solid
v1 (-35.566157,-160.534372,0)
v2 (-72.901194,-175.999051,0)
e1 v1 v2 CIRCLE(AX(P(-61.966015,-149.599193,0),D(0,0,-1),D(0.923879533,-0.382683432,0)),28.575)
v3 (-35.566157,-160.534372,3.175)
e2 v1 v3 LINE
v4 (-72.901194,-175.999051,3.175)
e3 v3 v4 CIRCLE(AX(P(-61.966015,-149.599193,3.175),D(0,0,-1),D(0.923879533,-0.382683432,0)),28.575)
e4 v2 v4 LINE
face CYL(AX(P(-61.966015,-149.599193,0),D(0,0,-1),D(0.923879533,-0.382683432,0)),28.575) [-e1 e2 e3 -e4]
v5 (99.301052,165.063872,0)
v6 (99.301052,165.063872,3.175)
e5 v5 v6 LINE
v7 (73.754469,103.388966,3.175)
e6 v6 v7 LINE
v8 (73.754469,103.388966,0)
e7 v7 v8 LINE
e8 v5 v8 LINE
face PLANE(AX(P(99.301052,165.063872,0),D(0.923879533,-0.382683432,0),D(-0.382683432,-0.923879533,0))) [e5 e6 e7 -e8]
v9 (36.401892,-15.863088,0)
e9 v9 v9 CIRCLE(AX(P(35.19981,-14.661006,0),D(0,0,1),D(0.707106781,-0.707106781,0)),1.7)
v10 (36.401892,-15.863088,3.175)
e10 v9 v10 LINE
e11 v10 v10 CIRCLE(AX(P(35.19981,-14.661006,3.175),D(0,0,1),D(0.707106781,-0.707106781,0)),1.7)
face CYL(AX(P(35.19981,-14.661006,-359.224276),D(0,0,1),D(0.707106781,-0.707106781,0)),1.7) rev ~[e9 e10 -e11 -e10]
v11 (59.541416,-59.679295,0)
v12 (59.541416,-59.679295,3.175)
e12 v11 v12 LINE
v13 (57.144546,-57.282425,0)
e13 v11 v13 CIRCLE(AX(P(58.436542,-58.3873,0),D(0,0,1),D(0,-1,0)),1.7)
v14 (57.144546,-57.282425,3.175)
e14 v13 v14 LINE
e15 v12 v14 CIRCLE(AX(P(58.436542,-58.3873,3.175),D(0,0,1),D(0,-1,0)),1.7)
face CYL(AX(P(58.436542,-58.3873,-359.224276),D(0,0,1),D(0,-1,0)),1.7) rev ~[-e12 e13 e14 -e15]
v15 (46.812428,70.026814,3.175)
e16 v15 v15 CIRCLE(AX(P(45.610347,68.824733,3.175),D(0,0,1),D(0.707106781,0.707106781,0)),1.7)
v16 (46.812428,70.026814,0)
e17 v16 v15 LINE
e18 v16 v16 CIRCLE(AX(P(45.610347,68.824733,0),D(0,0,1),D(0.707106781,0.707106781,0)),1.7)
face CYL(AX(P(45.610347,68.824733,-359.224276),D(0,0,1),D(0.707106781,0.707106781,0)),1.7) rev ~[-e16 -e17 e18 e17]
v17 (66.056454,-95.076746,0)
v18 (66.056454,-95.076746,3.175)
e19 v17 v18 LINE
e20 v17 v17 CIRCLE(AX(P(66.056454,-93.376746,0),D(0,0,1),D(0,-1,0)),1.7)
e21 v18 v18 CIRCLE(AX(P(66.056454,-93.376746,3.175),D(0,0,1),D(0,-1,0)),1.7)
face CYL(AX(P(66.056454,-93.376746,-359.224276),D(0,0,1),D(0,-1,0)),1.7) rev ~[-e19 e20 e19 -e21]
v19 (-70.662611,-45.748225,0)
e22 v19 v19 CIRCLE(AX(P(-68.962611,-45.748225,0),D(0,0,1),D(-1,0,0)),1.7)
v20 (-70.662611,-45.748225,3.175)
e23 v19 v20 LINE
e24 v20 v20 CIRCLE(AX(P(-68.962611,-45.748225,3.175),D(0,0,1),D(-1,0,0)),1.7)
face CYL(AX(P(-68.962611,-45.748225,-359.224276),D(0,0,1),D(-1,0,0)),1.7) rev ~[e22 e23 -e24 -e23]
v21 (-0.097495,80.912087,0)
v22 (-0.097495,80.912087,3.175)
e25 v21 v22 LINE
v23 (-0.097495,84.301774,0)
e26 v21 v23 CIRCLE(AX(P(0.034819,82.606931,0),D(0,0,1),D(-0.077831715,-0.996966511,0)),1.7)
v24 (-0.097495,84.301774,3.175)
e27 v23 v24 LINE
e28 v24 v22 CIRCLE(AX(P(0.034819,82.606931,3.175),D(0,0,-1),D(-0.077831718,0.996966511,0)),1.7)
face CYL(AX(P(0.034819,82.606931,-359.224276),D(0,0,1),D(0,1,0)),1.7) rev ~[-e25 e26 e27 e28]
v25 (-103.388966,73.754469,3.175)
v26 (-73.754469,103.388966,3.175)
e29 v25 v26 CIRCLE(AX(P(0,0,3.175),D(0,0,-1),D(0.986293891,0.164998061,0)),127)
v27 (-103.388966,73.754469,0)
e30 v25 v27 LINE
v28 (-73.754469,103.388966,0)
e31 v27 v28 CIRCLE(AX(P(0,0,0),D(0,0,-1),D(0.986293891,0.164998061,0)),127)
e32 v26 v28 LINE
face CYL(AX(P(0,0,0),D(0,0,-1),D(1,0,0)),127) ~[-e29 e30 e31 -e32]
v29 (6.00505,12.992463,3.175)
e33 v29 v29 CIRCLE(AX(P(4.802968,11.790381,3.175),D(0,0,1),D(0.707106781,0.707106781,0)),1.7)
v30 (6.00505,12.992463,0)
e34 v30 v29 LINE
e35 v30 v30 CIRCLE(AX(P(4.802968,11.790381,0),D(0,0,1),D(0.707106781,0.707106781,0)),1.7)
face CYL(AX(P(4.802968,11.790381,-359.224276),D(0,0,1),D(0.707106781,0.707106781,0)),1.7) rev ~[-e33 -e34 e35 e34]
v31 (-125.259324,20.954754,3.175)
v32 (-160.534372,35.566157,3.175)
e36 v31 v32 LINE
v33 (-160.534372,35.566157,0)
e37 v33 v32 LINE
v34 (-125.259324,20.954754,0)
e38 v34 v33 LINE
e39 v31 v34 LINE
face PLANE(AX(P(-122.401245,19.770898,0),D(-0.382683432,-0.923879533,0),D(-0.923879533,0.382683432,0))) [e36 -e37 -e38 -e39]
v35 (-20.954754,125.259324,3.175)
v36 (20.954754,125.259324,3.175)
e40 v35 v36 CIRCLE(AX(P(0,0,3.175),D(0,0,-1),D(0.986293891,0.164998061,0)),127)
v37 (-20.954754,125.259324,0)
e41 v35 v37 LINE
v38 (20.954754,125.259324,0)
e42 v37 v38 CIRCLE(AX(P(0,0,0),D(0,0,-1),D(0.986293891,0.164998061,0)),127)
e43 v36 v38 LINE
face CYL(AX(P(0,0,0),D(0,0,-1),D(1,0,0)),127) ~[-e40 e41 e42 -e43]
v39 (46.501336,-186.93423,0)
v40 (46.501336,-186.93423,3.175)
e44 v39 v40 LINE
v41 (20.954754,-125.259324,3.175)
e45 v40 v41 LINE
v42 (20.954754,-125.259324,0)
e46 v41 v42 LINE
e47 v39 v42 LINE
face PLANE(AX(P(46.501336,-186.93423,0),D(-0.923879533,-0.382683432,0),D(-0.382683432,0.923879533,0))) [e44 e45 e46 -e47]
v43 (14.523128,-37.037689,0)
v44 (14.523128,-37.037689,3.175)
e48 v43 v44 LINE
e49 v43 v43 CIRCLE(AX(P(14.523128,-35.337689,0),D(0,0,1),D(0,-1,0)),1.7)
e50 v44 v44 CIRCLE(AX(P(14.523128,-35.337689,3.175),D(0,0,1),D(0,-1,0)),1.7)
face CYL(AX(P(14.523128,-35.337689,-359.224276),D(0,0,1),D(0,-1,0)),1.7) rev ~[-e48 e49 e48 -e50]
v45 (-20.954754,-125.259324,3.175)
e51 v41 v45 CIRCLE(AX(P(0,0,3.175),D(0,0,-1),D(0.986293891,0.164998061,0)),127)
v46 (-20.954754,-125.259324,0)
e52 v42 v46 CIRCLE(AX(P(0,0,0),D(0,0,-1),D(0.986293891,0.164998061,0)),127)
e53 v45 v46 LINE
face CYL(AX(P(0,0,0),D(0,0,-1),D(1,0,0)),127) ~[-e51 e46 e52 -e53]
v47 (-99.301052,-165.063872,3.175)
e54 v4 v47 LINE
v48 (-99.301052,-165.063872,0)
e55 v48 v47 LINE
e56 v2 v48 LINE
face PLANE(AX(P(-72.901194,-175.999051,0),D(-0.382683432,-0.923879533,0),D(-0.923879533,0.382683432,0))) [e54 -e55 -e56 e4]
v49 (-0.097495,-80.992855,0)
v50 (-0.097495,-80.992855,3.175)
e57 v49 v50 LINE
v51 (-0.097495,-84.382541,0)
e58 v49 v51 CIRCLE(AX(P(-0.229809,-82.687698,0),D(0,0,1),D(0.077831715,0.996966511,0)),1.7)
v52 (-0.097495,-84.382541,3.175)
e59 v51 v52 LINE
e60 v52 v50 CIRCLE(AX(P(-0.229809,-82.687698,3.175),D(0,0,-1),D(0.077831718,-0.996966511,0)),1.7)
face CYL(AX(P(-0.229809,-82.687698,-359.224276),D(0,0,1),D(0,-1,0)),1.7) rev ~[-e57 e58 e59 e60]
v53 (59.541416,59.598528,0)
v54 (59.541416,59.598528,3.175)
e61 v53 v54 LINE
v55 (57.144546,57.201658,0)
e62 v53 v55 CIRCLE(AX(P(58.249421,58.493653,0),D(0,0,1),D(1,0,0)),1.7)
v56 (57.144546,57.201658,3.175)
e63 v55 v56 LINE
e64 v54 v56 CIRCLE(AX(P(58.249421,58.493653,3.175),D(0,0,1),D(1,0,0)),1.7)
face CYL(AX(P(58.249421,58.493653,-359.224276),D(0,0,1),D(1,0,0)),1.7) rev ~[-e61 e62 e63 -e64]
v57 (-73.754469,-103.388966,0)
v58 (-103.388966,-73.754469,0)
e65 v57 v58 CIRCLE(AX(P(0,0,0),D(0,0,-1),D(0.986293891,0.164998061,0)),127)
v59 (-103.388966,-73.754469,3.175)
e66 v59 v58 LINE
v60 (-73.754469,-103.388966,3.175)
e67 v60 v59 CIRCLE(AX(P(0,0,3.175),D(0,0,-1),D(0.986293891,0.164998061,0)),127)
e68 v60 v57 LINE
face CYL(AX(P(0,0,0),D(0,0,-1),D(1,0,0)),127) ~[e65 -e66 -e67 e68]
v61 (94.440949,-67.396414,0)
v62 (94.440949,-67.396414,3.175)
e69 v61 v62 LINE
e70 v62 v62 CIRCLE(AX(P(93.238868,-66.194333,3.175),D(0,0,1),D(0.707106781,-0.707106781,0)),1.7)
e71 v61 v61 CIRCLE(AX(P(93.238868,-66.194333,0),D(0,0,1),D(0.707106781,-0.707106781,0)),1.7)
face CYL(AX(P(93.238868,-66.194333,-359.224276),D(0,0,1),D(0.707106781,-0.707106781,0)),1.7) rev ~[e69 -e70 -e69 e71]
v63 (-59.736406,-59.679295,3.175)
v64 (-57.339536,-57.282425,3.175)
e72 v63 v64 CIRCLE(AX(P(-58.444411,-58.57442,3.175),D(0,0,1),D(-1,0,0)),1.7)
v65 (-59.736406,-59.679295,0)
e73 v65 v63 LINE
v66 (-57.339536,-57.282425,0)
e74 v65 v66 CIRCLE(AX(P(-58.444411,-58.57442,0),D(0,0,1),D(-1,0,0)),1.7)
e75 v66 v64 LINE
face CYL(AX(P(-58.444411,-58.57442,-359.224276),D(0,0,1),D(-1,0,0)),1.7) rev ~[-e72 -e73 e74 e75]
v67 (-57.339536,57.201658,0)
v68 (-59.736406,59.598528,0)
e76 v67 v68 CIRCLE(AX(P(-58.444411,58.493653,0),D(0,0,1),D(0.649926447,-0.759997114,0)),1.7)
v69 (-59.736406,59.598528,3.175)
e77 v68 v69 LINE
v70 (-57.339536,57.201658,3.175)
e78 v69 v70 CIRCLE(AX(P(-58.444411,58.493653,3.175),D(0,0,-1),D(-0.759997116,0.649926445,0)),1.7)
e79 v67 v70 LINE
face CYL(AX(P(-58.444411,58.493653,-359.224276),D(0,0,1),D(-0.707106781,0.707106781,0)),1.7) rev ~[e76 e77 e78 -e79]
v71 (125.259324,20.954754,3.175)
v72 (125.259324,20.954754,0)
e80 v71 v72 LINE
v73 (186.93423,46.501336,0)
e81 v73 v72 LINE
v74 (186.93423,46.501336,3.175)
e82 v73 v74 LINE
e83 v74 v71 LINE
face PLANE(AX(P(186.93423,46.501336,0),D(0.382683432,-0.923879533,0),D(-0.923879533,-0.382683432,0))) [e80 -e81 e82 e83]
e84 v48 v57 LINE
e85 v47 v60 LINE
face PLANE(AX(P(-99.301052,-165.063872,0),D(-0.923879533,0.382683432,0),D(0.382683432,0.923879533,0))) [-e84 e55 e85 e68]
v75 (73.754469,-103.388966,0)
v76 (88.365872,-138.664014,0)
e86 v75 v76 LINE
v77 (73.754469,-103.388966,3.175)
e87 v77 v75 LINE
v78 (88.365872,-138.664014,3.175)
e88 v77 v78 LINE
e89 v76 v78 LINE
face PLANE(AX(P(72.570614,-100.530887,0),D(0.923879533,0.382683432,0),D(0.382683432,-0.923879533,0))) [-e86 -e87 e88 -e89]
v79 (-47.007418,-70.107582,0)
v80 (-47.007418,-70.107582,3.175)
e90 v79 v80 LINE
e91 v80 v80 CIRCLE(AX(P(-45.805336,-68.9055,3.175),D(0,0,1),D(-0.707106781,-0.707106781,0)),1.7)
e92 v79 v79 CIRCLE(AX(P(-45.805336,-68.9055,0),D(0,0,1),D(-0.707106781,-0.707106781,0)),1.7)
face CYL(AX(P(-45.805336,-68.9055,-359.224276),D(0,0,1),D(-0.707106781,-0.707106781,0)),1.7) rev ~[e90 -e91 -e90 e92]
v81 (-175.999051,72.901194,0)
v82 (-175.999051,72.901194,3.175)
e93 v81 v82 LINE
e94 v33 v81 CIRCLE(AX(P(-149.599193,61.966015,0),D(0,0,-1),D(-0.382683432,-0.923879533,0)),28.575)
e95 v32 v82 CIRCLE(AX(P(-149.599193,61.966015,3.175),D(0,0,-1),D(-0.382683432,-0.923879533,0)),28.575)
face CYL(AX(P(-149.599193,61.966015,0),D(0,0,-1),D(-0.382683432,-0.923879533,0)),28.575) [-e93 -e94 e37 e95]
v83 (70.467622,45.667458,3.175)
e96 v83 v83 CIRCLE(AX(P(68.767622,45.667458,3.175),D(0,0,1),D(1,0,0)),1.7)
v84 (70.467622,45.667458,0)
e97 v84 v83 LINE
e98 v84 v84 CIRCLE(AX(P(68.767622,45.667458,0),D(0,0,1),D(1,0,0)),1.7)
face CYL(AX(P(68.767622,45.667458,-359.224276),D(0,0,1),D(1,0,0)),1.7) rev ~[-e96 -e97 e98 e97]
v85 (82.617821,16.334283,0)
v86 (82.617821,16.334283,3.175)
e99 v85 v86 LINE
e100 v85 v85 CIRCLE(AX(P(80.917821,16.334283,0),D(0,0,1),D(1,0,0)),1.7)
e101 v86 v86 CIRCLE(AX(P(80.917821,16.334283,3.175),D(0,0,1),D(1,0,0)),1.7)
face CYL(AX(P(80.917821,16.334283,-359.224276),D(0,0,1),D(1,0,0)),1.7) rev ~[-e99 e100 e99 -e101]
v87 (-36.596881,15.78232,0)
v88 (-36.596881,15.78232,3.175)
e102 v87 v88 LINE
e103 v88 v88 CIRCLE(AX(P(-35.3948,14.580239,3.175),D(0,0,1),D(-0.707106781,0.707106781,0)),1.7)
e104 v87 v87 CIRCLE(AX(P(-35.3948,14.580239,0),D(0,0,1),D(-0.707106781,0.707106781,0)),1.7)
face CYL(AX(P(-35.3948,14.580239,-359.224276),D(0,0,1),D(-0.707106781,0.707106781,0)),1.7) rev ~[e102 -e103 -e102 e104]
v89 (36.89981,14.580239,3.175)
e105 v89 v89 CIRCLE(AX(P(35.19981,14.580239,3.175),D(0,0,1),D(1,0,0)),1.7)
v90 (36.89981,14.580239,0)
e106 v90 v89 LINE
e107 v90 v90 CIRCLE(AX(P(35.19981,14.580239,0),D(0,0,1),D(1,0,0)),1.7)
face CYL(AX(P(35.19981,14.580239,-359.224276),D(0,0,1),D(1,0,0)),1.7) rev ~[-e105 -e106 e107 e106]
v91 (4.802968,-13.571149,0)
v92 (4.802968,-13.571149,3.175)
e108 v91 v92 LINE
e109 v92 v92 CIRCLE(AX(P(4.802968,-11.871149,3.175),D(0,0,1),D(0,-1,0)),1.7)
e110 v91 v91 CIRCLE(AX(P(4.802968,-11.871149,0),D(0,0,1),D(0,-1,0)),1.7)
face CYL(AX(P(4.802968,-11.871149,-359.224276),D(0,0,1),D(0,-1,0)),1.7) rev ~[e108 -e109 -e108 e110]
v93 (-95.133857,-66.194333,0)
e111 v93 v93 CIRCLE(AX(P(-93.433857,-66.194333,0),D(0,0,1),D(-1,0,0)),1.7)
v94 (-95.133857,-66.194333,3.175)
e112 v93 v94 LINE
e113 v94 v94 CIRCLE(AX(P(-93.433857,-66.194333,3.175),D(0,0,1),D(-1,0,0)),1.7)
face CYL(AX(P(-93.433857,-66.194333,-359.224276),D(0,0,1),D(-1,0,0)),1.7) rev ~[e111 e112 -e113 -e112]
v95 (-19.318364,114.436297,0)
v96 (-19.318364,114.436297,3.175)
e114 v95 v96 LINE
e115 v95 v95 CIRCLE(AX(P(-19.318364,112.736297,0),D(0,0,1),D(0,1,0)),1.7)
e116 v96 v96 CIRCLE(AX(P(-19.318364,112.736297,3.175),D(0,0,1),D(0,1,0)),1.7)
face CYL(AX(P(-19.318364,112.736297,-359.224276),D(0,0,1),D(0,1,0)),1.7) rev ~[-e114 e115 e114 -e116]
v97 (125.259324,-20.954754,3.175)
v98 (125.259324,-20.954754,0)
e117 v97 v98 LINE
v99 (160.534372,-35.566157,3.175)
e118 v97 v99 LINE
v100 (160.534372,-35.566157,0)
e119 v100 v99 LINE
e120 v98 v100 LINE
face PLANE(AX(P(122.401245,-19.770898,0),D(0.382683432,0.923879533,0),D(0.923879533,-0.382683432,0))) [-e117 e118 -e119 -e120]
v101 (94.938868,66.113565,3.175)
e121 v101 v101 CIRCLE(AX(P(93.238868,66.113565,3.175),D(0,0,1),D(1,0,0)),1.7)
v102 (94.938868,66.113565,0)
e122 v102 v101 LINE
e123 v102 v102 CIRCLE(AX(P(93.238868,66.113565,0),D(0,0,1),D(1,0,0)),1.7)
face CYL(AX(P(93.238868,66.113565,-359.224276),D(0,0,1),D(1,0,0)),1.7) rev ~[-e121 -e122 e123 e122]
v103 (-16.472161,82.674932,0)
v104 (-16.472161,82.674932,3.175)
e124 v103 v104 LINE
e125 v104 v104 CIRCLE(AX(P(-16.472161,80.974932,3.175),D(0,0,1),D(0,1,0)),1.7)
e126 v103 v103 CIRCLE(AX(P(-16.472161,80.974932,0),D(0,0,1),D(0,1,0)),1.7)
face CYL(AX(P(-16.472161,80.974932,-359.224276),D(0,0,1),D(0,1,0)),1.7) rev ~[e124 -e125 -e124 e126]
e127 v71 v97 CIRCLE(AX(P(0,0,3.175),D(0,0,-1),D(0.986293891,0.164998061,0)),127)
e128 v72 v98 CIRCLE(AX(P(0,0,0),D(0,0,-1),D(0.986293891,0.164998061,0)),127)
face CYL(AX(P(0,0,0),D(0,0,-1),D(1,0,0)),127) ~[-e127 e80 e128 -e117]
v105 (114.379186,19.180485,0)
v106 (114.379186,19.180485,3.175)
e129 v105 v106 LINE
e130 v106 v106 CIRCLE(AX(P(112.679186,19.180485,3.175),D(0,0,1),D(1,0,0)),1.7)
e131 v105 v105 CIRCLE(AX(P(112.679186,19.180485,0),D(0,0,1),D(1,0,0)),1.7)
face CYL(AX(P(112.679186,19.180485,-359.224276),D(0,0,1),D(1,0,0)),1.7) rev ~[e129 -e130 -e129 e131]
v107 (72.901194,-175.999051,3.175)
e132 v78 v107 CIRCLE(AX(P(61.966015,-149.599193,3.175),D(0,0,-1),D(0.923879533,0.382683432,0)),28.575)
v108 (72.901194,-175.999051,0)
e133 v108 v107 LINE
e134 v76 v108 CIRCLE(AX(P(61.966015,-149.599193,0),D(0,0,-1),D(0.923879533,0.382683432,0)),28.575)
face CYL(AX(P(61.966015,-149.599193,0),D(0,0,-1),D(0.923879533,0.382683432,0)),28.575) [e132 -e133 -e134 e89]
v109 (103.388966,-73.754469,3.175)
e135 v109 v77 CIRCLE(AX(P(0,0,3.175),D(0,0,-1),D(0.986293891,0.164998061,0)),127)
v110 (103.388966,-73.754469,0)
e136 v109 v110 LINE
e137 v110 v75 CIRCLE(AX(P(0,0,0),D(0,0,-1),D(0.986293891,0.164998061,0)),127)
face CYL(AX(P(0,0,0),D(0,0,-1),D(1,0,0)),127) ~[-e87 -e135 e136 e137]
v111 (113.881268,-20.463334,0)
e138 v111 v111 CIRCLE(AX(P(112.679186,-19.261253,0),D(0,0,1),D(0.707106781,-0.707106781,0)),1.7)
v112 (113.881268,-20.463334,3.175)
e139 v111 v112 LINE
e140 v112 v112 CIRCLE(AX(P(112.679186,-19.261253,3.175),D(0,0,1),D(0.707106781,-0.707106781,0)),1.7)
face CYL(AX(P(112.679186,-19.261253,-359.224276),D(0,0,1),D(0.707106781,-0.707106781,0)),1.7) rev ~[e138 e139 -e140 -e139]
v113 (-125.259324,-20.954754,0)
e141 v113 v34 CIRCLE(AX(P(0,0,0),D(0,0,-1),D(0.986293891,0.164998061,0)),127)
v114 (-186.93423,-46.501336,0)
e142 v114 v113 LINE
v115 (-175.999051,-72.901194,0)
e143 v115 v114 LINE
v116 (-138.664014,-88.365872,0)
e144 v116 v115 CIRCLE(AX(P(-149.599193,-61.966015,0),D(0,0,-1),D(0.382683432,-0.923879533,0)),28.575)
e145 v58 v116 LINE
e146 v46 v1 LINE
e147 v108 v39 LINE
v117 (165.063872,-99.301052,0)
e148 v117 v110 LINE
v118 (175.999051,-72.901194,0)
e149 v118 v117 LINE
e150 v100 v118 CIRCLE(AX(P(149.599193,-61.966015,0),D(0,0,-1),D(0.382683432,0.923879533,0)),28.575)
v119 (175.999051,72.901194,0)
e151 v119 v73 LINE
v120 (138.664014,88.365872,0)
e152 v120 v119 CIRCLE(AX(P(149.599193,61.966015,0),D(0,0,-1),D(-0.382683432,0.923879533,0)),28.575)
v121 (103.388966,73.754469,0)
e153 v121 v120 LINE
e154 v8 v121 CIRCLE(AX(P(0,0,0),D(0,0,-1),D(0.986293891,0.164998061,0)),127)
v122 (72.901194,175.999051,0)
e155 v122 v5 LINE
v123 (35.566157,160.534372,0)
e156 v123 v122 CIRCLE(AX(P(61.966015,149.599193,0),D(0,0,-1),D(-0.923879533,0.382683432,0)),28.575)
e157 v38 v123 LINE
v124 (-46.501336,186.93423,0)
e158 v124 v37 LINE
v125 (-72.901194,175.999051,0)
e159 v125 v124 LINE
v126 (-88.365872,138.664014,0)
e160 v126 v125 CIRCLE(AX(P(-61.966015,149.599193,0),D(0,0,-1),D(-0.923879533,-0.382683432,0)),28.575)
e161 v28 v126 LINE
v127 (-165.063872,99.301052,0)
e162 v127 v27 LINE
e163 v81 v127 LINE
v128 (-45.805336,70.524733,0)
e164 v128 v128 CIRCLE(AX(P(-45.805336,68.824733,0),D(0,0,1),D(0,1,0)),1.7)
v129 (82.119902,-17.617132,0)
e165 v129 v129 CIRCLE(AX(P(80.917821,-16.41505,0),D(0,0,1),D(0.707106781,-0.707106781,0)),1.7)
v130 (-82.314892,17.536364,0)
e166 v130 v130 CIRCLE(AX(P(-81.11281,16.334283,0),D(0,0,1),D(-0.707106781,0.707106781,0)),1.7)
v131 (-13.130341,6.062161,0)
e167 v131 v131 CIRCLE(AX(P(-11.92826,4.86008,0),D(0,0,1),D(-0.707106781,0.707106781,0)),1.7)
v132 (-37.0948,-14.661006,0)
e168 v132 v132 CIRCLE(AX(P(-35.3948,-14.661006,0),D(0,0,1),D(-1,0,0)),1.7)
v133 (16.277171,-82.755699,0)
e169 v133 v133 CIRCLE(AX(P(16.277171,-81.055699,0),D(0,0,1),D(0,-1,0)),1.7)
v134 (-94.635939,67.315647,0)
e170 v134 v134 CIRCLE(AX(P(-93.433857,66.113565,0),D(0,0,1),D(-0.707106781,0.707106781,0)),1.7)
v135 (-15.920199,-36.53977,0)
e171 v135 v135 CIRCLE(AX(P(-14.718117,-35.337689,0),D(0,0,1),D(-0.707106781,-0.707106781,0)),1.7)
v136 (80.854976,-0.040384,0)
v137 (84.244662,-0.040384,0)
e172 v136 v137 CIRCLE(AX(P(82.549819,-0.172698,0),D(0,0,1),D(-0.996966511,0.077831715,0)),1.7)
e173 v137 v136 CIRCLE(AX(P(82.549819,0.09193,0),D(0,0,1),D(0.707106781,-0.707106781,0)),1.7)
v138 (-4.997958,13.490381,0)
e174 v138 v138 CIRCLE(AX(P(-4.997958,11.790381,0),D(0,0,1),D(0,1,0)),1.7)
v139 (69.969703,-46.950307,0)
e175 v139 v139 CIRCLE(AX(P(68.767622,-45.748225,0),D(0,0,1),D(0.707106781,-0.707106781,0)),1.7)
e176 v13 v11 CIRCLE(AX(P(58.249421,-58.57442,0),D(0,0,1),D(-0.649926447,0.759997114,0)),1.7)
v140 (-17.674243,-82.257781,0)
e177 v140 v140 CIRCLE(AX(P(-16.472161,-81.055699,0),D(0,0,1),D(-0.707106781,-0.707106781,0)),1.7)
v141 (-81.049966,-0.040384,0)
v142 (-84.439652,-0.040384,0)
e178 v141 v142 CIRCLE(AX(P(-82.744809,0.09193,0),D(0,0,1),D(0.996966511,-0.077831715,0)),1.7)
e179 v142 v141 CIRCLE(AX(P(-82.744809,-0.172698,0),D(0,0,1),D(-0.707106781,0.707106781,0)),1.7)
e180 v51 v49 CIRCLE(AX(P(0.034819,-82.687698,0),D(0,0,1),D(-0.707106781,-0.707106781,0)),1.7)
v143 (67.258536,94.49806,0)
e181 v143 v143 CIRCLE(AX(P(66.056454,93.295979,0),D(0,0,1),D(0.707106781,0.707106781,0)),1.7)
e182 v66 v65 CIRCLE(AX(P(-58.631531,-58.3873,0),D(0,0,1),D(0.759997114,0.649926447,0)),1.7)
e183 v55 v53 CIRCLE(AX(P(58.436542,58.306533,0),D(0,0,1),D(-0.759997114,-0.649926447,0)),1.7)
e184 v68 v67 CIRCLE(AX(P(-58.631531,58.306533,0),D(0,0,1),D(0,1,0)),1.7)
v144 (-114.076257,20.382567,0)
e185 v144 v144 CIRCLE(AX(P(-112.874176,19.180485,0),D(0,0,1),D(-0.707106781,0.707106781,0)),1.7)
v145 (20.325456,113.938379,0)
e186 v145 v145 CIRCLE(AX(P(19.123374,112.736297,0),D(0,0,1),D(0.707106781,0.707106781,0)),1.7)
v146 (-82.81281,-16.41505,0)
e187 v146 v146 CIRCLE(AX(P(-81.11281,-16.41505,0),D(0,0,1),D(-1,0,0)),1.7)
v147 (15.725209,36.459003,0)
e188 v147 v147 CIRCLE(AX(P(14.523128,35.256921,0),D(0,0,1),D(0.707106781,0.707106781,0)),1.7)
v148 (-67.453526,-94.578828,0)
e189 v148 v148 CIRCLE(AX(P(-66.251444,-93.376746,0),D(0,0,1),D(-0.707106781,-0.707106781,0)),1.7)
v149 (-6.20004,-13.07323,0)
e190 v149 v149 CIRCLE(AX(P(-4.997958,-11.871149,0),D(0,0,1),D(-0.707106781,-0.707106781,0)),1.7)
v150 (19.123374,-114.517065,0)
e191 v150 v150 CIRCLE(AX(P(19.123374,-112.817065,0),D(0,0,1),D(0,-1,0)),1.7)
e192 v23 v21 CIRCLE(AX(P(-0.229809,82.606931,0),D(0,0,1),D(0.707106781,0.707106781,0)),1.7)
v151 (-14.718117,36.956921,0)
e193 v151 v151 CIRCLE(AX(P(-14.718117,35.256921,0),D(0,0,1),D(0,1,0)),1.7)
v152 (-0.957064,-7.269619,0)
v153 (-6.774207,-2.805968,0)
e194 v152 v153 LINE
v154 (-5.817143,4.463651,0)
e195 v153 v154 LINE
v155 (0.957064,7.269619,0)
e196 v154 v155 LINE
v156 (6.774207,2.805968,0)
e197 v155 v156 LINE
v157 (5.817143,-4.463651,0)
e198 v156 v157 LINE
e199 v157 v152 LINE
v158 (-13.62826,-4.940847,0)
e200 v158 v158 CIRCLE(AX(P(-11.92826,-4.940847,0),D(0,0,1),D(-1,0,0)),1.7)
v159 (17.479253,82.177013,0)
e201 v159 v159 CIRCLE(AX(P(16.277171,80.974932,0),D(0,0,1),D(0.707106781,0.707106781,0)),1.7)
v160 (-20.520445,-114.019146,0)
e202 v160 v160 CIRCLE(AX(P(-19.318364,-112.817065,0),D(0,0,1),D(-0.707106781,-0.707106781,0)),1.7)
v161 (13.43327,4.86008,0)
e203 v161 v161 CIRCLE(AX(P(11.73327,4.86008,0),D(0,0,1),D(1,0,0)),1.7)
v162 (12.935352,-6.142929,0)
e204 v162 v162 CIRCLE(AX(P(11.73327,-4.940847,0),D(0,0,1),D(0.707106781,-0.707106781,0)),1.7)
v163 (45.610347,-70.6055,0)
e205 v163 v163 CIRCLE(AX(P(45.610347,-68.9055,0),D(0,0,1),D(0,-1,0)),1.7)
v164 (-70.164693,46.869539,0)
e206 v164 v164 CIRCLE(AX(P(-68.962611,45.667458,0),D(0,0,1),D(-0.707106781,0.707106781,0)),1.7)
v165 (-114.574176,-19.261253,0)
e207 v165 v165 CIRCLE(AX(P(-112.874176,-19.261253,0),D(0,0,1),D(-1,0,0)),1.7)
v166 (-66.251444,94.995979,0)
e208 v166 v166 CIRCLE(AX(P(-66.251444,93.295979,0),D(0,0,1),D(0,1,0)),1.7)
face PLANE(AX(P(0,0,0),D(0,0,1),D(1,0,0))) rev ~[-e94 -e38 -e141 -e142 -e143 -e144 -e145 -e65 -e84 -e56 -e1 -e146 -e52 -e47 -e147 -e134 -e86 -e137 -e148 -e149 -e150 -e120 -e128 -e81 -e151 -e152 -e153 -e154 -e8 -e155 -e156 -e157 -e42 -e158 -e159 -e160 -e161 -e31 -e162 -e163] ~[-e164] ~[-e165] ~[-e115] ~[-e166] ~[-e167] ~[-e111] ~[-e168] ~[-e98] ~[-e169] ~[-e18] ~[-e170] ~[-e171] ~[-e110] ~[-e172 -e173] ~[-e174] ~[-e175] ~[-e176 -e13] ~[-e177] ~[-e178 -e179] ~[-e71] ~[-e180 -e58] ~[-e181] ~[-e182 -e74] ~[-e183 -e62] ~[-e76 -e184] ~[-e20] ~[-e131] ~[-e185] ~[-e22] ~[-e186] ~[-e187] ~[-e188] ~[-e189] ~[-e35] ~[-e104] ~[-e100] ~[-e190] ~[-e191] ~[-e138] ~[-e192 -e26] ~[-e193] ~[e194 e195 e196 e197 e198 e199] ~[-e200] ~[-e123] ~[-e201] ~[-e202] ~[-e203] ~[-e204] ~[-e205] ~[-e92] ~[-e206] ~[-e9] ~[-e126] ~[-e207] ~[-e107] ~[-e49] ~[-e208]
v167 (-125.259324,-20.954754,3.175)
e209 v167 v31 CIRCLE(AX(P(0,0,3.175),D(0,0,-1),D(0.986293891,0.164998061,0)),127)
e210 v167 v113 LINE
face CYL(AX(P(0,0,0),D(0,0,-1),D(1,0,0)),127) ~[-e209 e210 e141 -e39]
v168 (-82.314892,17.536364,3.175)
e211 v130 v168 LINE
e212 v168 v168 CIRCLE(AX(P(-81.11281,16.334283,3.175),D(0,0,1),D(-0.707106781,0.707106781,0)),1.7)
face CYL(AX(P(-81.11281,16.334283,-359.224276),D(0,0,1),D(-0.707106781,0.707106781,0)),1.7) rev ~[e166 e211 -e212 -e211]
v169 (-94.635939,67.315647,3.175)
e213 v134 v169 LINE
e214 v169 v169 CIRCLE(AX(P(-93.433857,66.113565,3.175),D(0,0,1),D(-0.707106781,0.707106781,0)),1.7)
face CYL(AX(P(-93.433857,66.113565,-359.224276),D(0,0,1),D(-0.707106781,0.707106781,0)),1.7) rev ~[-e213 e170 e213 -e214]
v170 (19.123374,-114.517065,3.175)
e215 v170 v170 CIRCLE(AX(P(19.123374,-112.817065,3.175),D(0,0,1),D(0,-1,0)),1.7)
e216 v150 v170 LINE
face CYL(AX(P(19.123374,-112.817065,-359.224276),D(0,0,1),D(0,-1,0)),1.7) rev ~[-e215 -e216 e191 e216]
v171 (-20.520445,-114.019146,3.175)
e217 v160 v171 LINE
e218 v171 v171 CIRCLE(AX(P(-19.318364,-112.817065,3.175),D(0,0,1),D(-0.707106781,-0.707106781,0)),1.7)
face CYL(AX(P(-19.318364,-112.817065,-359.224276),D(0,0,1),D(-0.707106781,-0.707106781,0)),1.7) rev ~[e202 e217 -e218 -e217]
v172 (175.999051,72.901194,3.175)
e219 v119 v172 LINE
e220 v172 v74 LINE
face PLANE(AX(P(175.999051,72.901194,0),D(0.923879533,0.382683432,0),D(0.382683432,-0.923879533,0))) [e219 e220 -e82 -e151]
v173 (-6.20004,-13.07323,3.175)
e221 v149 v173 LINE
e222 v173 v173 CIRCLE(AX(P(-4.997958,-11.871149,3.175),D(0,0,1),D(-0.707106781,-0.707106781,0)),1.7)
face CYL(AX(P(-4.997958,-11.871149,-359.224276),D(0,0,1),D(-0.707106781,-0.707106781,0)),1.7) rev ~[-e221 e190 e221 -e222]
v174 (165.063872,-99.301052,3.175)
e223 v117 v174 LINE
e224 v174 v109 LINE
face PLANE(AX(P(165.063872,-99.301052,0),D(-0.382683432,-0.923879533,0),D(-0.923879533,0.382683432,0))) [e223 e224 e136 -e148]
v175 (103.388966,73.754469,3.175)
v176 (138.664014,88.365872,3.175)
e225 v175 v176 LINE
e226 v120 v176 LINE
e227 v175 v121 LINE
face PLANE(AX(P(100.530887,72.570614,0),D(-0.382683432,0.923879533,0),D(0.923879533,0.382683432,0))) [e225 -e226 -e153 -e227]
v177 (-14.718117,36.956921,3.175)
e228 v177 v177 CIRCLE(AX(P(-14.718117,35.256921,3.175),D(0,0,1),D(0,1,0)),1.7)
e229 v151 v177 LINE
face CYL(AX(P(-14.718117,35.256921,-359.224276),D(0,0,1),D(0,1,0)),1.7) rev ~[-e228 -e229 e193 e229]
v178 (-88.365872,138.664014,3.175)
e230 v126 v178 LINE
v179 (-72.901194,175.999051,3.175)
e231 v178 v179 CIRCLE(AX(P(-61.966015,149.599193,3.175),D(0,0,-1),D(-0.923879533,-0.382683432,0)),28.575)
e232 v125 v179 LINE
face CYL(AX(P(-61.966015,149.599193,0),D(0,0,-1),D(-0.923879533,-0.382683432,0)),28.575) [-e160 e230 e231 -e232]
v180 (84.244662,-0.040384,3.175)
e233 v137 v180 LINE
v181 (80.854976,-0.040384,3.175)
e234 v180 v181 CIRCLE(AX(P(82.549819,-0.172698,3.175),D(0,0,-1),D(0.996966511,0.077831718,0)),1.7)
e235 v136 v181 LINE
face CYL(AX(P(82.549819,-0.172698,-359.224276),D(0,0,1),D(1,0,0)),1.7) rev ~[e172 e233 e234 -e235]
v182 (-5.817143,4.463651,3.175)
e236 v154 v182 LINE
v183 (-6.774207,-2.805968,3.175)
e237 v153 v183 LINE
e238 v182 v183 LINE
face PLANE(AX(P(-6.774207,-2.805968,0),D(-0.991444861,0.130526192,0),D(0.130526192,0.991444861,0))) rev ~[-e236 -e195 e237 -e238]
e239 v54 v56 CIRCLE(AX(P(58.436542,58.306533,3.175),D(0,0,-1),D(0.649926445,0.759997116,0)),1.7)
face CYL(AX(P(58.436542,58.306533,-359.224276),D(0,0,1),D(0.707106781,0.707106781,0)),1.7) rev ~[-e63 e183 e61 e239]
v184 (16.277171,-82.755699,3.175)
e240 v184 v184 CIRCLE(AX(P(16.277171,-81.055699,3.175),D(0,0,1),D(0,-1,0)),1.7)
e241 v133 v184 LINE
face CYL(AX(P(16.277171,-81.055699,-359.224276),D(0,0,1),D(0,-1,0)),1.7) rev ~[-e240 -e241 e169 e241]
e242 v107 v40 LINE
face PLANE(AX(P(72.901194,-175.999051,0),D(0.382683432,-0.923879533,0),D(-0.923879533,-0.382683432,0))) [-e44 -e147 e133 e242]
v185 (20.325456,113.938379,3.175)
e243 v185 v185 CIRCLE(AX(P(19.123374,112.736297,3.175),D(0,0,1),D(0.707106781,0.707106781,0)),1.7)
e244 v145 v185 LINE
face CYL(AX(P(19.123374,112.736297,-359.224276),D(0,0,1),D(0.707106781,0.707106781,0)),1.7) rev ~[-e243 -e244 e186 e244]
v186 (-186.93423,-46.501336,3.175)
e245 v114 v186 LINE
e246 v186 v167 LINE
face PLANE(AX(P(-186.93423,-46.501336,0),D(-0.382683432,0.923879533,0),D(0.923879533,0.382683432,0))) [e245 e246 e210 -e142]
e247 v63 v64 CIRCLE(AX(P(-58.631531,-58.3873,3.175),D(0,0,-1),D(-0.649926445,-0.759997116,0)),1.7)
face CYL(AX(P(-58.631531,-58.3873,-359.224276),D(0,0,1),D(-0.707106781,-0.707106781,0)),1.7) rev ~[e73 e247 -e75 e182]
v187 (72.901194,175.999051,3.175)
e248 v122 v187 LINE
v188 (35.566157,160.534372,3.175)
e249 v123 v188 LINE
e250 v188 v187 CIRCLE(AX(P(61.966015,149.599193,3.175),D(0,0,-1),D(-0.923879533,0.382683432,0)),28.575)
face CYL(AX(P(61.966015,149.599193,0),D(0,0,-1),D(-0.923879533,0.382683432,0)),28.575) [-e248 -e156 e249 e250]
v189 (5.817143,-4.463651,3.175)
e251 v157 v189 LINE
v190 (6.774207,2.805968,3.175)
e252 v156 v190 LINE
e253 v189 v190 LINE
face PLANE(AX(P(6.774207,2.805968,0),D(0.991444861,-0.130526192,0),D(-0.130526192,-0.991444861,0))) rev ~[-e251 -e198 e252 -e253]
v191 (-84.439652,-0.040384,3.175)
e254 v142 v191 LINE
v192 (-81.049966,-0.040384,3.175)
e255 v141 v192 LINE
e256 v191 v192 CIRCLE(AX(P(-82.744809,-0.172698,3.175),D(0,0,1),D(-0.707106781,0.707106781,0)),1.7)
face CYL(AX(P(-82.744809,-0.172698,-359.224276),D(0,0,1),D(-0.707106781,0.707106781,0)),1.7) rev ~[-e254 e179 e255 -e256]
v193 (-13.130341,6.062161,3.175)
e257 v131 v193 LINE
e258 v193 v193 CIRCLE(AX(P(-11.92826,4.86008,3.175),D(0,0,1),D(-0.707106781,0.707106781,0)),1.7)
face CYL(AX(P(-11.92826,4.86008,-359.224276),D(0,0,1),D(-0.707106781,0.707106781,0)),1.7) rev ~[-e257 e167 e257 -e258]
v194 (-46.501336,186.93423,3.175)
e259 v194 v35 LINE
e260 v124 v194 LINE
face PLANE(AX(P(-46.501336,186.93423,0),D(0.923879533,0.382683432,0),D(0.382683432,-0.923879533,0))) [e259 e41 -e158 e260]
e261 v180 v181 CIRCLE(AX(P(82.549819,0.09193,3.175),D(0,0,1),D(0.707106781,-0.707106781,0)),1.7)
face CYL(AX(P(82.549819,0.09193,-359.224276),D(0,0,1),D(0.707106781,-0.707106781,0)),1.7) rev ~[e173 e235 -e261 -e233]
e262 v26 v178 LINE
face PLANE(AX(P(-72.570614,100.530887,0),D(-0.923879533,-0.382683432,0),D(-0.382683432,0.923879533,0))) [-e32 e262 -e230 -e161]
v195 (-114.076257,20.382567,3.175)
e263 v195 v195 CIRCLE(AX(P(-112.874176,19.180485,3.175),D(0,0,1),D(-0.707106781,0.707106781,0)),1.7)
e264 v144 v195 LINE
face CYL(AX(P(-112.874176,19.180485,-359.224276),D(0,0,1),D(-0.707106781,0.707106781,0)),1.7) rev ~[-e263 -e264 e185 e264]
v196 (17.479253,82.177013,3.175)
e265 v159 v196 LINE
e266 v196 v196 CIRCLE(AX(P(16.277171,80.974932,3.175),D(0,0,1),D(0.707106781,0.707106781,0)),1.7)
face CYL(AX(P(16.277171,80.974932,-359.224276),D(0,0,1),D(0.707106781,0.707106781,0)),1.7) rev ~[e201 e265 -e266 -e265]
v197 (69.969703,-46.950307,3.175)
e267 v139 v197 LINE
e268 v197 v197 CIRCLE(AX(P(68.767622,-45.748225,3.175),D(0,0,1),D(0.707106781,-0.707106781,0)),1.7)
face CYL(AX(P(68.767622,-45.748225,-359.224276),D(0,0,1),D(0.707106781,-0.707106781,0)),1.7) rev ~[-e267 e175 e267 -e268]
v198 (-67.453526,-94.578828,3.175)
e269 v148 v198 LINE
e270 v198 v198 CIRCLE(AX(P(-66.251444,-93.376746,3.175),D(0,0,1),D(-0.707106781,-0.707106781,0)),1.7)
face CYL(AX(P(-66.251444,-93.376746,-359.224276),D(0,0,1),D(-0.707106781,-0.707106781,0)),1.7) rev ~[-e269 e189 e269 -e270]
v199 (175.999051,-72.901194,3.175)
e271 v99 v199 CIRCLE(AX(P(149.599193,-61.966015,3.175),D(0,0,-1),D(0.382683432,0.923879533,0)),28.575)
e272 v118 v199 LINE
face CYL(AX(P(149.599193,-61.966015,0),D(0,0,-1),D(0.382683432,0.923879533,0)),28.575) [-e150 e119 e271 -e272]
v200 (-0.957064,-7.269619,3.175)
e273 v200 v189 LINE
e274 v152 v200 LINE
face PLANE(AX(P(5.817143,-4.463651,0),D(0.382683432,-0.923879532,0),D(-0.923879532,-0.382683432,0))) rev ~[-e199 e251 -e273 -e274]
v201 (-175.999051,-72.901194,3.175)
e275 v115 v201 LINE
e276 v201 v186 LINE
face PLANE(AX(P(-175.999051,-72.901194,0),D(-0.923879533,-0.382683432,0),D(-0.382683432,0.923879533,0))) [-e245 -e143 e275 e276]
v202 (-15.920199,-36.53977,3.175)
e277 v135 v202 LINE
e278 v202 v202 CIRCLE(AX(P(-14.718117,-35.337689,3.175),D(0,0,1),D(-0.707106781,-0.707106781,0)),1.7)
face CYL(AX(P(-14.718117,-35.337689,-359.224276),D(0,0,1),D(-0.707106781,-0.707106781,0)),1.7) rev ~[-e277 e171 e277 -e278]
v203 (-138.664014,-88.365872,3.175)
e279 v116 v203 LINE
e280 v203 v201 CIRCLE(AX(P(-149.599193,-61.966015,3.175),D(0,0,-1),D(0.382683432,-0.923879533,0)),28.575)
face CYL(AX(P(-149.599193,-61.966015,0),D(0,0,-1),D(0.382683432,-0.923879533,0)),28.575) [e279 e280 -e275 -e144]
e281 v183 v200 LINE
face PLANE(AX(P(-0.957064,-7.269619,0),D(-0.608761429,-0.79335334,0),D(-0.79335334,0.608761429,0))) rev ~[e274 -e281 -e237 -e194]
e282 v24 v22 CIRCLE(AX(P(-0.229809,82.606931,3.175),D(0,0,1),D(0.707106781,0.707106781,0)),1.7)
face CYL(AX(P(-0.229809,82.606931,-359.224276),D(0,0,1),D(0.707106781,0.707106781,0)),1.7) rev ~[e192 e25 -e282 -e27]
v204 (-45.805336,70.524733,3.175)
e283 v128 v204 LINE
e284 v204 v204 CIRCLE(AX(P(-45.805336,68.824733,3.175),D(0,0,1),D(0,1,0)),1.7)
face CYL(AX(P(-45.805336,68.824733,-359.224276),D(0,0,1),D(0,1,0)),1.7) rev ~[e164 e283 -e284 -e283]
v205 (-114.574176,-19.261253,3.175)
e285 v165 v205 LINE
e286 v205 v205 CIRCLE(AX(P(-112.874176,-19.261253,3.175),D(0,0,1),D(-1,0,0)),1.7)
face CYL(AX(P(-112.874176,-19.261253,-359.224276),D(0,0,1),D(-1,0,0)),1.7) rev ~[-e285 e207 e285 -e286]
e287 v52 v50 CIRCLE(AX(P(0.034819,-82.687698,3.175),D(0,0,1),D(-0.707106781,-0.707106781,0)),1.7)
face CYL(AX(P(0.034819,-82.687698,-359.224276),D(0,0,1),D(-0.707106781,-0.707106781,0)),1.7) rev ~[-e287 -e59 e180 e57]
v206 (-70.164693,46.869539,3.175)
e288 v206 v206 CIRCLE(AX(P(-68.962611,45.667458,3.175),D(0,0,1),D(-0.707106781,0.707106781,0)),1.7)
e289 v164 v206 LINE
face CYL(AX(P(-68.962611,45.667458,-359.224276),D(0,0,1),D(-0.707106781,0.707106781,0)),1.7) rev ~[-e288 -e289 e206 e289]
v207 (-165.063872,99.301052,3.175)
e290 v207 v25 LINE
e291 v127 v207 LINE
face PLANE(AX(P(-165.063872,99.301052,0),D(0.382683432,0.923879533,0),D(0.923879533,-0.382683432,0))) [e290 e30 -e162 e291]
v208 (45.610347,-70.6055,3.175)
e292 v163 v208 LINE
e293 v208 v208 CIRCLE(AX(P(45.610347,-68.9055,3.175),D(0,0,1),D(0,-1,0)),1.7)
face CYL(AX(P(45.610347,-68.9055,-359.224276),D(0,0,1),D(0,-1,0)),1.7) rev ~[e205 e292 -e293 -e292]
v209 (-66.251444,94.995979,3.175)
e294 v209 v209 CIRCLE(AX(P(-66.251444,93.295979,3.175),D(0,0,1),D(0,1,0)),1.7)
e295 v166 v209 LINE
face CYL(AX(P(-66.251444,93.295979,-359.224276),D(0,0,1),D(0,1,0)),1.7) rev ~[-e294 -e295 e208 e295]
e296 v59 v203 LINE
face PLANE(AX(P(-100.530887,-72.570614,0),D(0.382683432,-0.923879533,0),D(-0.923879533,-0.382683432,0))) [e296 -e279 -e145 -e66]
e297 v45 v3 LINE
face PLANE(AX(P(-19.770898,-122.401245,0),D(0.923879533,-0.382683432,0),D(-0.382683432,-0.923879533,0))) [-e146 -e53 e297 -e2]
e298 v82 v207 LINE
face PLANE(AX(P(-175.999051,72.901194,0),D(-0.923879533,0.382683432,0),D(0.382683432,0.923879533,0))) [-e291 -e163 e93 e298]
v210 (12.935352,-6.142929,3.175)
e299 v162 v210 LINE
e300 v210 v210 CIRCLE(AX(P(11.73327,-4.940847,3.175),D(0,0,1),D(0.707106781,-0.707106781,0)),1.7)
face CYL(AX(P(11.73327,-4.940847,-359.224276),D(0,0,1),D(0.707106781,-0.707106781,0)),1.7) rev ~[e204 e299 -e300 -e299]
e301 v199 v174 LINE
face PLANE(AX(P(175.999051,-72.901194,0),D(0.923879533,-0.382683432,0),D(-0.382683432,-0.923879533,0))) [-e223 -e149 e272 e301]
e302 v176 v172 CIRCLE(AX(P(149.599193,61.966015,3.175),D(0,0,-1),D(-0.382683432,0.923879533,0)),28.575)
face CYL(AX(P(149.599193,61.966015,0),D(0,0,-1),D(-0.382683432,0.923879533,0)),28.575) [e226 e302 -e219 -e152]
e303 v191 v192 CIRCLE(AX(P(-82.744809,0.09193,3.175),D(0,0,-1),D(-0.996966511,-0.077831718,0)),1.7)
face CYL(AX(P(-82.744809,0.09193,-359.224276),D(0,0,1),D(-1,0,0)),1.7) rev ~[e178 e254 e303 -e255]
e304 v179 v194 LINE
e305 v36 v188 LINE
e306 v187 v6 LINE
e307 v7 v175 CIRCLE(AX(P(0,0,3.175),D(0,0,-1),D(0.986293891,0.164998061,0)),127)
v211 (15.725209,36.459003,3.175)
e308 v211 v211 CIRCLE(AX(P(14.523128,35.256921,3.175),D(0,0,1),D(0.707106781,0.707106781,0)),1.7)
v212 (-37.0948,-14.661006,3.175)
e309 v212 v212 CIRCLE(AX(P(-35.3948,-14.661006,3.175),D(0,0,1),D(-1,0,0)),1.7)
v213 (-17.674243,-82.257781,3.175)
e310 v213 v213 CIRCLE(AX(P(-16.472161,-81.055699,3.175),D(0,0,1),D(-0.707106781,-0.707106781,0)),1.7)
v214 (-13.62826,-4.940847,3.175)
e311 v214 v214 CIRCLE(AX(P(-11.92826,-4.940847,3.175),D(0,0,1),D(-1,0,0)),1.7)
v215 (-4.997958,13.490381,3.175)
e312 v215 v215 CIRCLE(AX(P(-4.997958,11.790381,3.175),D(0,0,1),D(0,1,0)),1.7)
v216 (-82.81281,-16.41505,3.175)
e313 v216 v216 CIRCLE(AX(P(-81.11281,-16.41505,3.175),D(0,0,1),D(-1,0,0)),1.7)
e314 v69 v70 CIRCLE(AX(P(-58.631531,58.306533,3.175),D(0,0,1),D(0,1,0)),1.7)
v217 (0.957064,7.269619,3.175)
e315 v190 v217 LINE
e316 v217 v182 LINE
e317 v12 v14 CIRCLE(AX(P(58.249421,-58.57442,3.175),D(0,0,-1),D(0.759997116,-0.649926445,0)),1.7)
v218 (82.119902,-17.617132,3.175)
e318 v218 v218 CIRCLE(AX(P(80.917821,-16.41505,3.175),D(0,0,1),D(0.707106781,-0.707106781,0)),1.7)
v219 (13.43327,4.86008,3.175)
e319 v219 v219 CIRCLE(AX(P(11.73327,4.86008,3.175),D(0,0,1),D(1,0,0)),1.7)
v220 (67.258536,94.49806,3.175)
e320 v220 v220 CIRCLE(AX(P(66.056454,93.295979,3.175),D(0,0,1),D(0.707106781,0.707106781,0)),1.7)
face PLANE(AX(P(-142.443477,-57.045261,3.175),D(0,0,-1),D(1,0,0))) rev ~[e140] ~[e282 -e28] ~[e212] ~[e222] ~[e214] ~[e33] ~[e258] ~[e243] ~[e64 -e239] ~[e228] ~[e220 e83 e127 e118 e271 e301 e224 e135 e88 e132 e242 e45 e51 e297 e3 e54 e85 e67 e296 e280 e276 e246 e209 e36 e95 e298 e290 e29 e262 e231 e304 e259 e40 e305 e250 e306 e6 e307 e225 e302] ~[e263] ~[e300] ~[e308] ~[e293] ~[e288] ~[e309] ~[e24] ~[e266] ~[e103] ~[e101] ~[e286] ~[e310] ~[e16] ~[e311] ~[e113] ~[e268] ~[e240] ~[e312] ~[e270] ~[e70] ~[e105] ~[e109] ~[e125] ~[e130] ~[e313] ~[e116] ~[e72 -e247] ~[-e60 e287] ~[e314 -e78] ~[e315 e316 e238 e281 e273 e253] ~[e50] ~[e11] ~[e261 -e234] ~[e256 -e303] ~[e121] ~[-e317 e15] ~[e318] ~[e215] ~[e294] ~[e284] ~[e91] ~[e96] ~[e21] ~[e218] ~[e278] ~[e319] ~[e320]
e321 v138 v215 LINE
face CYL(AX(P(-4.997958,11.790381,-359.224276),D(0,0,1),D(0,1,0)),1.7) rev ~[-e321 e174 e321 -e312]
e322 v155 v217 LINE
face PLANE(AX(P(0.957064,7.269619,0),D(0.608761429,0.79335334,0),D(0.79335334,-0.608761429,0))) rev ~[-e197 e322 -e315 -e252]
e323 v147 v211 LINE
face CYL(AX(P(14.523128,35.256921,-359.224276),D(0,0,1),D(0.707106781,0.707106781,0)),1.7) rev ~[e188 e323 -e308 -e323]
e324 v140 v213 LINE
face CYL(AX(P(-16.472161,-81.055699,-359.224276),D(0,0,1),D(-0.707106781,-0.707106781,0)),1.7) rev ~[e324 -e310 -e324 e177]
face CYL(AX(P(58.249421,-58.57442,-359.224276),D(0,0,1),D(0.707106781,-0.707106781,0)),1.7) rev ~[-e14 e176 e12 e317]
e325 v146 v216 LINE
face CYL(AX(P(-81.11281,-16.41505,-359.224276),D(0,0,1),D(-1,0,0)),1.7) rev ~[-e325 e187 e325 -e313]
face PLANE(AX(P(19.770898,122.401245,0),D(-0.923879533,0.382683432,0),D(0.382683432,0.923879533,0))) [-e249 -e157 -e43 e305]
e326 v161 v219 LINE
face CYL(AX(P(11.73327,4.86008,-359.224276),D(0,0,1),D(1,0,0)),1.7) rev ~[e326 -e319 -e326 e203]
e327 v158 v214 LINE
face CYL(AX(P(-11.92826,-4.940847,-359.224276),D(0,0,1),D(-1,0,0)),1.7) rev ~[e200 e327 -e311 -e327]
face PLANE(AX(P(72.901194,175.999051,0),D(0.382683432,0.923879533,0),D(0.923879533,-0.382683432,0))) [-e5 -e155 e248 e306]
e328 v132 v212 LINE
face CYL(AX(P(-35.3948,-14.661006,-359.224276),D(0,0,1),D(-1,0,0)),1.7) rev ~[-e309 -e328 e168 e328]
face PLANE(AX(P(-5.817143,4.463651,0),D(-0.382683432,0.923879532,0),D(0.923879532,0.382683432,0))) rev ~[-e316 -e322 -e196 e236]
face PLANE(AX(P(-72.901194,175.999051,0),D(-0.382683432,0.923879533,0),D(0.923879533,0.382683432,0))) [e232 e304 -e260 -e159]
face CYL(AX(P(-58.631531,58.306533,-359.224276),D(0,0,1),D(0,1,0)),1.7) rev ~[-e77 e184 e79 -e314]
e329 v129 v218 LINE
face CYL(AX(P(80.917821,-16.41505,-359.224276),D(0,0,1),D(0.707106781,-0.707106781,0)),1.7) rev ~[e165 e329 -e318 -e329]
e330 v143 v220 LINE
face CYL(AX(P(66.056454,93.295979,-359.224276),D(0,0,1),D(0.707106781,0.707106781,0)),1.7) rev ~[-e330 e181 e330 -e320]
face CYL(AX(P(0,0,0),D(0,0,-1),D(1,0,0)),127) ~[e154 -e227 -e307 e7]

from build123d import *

# Parameters (mm, degrees)
SKETCH1_R            = 127
BOSS_EXTRUDE1_DEPTH  = 3.175
M3_CLEARANCE_HOLE1_D = 3.4
CIRPATTERN1_COUNT    = 8
BOSS_EXTRUDE2_DEPTH  = 3.175
CIRPATTERN2_COUNT    = 8
CUT_EXTRUDE1_REACH   = 266.384


with BuildPart() as part:
    # Sketch1 → Boss-Extrude1 (new body)
    with BuildSketch(Plane.XY):
        Circle(SKETCH1_R)
    extrude(amount=BOSS_EXTRUDE1_DEPTH)

    # M3 Clearance Hole1 (through all)
    with Locations(Plane(origin=(0, 0, 0), x_dir=(-1, 0, 0), z_dir=(0, 0, -1))):
        with Locations((-58.2494214, 58.493652703), (-82.549819355, -0.172697611), (-93.238867767, 66.113565457), (-112.679186132, 19.180485205), (-11.733270063, 4.860079591), (-68.767621753, 45.667457762), (-80.917820731, 16.334282605), (-35.199810189, 14.580238773)):
            m3_clearance_hole1 = Hole(M3_CLEARANCE_HOLE1_D / 2)

    # CirPattern1: M3 Clearance Hole1 ×8 about axis
    cirpattern1_axis = Axis((-0.09749486, -0.040383693, 0), (0, 0, 1))
    for i in range(1, CIRPATTERN1_COUNT):
        add(m3_clearance_hole1.rotate(cirpattern1_axis, i * 360 / CIRPATTERN1_COUNT), mode=Mode.SUBTRACT)

    # Sketch6 → Boss-Extrude2 (add)
    with BuildSketch(Plane(origin=(0, 0, 0), x_dir=(-1, 0, 0), z_dir=(0, 0, -1))):
        with BuildLine():
            Line((-100.530886518, 72.570613756), (-138.664014222, 88.365872427))
            ThreePointArc((-138.664014222, 88.365872427), (-160.534372382, 88.365872427), (-175.999050943, 72.901193866))
            Line((-175.999050943, 72.901193866), (-186.934230023, 46.501336224))
            Line((-186.934230023, 46.501336224), (-122.401244677, 19.770898473))
            Line((-122.401244677, 19.770898473), (-100.530886518, 72.570613756))
        make_face()
    boss_extrude2 = extrude(amount=-BOSS_EXTRUDE2_DEPTH)

    # CirPattern2: Boss-Extrude2 ×8 about axis
    cirpattern2_axis = Axis((0, 0, 0), (0, 0, 1))
    for i in range(1, CIRPATTERN2_COUNT):
        add(boss_extrude2.rotate(cirpattern2_axis, i * 360 / CIRPATTERN2_COUNT))

    # Sketch8 → Cut-Extrude1 (cut, up to next)
    with BuildSketch(Plane(origin=(0, 0, 0), x_dir=(-1, 0, 0), z_dir=(0, 0, -1)), mode=Mode.PRIVATE) as cut_extrude1_sk1:
        Polygon((-6.774206629, 2.80596826), (-5.81714311, -4.463650901), (0.957063519, -7.269619162), (6.774206629, -2.80596826), (5.81714311, 4.463650901), (-0.957063519, 7.269619162), align=None)
    cut_extrude1_tool1 = extrude(cut_extrude1_sk1.sketch, amount=-CUT_EXTRUDE1_REACH, mode=Mode.PRIVATE) & part.part
    add(cut_extrude1_tool1.solids().sort_by_distance((0, 0, 0))[0], mode=Mode.SUBTRACT)


solid = part.part
